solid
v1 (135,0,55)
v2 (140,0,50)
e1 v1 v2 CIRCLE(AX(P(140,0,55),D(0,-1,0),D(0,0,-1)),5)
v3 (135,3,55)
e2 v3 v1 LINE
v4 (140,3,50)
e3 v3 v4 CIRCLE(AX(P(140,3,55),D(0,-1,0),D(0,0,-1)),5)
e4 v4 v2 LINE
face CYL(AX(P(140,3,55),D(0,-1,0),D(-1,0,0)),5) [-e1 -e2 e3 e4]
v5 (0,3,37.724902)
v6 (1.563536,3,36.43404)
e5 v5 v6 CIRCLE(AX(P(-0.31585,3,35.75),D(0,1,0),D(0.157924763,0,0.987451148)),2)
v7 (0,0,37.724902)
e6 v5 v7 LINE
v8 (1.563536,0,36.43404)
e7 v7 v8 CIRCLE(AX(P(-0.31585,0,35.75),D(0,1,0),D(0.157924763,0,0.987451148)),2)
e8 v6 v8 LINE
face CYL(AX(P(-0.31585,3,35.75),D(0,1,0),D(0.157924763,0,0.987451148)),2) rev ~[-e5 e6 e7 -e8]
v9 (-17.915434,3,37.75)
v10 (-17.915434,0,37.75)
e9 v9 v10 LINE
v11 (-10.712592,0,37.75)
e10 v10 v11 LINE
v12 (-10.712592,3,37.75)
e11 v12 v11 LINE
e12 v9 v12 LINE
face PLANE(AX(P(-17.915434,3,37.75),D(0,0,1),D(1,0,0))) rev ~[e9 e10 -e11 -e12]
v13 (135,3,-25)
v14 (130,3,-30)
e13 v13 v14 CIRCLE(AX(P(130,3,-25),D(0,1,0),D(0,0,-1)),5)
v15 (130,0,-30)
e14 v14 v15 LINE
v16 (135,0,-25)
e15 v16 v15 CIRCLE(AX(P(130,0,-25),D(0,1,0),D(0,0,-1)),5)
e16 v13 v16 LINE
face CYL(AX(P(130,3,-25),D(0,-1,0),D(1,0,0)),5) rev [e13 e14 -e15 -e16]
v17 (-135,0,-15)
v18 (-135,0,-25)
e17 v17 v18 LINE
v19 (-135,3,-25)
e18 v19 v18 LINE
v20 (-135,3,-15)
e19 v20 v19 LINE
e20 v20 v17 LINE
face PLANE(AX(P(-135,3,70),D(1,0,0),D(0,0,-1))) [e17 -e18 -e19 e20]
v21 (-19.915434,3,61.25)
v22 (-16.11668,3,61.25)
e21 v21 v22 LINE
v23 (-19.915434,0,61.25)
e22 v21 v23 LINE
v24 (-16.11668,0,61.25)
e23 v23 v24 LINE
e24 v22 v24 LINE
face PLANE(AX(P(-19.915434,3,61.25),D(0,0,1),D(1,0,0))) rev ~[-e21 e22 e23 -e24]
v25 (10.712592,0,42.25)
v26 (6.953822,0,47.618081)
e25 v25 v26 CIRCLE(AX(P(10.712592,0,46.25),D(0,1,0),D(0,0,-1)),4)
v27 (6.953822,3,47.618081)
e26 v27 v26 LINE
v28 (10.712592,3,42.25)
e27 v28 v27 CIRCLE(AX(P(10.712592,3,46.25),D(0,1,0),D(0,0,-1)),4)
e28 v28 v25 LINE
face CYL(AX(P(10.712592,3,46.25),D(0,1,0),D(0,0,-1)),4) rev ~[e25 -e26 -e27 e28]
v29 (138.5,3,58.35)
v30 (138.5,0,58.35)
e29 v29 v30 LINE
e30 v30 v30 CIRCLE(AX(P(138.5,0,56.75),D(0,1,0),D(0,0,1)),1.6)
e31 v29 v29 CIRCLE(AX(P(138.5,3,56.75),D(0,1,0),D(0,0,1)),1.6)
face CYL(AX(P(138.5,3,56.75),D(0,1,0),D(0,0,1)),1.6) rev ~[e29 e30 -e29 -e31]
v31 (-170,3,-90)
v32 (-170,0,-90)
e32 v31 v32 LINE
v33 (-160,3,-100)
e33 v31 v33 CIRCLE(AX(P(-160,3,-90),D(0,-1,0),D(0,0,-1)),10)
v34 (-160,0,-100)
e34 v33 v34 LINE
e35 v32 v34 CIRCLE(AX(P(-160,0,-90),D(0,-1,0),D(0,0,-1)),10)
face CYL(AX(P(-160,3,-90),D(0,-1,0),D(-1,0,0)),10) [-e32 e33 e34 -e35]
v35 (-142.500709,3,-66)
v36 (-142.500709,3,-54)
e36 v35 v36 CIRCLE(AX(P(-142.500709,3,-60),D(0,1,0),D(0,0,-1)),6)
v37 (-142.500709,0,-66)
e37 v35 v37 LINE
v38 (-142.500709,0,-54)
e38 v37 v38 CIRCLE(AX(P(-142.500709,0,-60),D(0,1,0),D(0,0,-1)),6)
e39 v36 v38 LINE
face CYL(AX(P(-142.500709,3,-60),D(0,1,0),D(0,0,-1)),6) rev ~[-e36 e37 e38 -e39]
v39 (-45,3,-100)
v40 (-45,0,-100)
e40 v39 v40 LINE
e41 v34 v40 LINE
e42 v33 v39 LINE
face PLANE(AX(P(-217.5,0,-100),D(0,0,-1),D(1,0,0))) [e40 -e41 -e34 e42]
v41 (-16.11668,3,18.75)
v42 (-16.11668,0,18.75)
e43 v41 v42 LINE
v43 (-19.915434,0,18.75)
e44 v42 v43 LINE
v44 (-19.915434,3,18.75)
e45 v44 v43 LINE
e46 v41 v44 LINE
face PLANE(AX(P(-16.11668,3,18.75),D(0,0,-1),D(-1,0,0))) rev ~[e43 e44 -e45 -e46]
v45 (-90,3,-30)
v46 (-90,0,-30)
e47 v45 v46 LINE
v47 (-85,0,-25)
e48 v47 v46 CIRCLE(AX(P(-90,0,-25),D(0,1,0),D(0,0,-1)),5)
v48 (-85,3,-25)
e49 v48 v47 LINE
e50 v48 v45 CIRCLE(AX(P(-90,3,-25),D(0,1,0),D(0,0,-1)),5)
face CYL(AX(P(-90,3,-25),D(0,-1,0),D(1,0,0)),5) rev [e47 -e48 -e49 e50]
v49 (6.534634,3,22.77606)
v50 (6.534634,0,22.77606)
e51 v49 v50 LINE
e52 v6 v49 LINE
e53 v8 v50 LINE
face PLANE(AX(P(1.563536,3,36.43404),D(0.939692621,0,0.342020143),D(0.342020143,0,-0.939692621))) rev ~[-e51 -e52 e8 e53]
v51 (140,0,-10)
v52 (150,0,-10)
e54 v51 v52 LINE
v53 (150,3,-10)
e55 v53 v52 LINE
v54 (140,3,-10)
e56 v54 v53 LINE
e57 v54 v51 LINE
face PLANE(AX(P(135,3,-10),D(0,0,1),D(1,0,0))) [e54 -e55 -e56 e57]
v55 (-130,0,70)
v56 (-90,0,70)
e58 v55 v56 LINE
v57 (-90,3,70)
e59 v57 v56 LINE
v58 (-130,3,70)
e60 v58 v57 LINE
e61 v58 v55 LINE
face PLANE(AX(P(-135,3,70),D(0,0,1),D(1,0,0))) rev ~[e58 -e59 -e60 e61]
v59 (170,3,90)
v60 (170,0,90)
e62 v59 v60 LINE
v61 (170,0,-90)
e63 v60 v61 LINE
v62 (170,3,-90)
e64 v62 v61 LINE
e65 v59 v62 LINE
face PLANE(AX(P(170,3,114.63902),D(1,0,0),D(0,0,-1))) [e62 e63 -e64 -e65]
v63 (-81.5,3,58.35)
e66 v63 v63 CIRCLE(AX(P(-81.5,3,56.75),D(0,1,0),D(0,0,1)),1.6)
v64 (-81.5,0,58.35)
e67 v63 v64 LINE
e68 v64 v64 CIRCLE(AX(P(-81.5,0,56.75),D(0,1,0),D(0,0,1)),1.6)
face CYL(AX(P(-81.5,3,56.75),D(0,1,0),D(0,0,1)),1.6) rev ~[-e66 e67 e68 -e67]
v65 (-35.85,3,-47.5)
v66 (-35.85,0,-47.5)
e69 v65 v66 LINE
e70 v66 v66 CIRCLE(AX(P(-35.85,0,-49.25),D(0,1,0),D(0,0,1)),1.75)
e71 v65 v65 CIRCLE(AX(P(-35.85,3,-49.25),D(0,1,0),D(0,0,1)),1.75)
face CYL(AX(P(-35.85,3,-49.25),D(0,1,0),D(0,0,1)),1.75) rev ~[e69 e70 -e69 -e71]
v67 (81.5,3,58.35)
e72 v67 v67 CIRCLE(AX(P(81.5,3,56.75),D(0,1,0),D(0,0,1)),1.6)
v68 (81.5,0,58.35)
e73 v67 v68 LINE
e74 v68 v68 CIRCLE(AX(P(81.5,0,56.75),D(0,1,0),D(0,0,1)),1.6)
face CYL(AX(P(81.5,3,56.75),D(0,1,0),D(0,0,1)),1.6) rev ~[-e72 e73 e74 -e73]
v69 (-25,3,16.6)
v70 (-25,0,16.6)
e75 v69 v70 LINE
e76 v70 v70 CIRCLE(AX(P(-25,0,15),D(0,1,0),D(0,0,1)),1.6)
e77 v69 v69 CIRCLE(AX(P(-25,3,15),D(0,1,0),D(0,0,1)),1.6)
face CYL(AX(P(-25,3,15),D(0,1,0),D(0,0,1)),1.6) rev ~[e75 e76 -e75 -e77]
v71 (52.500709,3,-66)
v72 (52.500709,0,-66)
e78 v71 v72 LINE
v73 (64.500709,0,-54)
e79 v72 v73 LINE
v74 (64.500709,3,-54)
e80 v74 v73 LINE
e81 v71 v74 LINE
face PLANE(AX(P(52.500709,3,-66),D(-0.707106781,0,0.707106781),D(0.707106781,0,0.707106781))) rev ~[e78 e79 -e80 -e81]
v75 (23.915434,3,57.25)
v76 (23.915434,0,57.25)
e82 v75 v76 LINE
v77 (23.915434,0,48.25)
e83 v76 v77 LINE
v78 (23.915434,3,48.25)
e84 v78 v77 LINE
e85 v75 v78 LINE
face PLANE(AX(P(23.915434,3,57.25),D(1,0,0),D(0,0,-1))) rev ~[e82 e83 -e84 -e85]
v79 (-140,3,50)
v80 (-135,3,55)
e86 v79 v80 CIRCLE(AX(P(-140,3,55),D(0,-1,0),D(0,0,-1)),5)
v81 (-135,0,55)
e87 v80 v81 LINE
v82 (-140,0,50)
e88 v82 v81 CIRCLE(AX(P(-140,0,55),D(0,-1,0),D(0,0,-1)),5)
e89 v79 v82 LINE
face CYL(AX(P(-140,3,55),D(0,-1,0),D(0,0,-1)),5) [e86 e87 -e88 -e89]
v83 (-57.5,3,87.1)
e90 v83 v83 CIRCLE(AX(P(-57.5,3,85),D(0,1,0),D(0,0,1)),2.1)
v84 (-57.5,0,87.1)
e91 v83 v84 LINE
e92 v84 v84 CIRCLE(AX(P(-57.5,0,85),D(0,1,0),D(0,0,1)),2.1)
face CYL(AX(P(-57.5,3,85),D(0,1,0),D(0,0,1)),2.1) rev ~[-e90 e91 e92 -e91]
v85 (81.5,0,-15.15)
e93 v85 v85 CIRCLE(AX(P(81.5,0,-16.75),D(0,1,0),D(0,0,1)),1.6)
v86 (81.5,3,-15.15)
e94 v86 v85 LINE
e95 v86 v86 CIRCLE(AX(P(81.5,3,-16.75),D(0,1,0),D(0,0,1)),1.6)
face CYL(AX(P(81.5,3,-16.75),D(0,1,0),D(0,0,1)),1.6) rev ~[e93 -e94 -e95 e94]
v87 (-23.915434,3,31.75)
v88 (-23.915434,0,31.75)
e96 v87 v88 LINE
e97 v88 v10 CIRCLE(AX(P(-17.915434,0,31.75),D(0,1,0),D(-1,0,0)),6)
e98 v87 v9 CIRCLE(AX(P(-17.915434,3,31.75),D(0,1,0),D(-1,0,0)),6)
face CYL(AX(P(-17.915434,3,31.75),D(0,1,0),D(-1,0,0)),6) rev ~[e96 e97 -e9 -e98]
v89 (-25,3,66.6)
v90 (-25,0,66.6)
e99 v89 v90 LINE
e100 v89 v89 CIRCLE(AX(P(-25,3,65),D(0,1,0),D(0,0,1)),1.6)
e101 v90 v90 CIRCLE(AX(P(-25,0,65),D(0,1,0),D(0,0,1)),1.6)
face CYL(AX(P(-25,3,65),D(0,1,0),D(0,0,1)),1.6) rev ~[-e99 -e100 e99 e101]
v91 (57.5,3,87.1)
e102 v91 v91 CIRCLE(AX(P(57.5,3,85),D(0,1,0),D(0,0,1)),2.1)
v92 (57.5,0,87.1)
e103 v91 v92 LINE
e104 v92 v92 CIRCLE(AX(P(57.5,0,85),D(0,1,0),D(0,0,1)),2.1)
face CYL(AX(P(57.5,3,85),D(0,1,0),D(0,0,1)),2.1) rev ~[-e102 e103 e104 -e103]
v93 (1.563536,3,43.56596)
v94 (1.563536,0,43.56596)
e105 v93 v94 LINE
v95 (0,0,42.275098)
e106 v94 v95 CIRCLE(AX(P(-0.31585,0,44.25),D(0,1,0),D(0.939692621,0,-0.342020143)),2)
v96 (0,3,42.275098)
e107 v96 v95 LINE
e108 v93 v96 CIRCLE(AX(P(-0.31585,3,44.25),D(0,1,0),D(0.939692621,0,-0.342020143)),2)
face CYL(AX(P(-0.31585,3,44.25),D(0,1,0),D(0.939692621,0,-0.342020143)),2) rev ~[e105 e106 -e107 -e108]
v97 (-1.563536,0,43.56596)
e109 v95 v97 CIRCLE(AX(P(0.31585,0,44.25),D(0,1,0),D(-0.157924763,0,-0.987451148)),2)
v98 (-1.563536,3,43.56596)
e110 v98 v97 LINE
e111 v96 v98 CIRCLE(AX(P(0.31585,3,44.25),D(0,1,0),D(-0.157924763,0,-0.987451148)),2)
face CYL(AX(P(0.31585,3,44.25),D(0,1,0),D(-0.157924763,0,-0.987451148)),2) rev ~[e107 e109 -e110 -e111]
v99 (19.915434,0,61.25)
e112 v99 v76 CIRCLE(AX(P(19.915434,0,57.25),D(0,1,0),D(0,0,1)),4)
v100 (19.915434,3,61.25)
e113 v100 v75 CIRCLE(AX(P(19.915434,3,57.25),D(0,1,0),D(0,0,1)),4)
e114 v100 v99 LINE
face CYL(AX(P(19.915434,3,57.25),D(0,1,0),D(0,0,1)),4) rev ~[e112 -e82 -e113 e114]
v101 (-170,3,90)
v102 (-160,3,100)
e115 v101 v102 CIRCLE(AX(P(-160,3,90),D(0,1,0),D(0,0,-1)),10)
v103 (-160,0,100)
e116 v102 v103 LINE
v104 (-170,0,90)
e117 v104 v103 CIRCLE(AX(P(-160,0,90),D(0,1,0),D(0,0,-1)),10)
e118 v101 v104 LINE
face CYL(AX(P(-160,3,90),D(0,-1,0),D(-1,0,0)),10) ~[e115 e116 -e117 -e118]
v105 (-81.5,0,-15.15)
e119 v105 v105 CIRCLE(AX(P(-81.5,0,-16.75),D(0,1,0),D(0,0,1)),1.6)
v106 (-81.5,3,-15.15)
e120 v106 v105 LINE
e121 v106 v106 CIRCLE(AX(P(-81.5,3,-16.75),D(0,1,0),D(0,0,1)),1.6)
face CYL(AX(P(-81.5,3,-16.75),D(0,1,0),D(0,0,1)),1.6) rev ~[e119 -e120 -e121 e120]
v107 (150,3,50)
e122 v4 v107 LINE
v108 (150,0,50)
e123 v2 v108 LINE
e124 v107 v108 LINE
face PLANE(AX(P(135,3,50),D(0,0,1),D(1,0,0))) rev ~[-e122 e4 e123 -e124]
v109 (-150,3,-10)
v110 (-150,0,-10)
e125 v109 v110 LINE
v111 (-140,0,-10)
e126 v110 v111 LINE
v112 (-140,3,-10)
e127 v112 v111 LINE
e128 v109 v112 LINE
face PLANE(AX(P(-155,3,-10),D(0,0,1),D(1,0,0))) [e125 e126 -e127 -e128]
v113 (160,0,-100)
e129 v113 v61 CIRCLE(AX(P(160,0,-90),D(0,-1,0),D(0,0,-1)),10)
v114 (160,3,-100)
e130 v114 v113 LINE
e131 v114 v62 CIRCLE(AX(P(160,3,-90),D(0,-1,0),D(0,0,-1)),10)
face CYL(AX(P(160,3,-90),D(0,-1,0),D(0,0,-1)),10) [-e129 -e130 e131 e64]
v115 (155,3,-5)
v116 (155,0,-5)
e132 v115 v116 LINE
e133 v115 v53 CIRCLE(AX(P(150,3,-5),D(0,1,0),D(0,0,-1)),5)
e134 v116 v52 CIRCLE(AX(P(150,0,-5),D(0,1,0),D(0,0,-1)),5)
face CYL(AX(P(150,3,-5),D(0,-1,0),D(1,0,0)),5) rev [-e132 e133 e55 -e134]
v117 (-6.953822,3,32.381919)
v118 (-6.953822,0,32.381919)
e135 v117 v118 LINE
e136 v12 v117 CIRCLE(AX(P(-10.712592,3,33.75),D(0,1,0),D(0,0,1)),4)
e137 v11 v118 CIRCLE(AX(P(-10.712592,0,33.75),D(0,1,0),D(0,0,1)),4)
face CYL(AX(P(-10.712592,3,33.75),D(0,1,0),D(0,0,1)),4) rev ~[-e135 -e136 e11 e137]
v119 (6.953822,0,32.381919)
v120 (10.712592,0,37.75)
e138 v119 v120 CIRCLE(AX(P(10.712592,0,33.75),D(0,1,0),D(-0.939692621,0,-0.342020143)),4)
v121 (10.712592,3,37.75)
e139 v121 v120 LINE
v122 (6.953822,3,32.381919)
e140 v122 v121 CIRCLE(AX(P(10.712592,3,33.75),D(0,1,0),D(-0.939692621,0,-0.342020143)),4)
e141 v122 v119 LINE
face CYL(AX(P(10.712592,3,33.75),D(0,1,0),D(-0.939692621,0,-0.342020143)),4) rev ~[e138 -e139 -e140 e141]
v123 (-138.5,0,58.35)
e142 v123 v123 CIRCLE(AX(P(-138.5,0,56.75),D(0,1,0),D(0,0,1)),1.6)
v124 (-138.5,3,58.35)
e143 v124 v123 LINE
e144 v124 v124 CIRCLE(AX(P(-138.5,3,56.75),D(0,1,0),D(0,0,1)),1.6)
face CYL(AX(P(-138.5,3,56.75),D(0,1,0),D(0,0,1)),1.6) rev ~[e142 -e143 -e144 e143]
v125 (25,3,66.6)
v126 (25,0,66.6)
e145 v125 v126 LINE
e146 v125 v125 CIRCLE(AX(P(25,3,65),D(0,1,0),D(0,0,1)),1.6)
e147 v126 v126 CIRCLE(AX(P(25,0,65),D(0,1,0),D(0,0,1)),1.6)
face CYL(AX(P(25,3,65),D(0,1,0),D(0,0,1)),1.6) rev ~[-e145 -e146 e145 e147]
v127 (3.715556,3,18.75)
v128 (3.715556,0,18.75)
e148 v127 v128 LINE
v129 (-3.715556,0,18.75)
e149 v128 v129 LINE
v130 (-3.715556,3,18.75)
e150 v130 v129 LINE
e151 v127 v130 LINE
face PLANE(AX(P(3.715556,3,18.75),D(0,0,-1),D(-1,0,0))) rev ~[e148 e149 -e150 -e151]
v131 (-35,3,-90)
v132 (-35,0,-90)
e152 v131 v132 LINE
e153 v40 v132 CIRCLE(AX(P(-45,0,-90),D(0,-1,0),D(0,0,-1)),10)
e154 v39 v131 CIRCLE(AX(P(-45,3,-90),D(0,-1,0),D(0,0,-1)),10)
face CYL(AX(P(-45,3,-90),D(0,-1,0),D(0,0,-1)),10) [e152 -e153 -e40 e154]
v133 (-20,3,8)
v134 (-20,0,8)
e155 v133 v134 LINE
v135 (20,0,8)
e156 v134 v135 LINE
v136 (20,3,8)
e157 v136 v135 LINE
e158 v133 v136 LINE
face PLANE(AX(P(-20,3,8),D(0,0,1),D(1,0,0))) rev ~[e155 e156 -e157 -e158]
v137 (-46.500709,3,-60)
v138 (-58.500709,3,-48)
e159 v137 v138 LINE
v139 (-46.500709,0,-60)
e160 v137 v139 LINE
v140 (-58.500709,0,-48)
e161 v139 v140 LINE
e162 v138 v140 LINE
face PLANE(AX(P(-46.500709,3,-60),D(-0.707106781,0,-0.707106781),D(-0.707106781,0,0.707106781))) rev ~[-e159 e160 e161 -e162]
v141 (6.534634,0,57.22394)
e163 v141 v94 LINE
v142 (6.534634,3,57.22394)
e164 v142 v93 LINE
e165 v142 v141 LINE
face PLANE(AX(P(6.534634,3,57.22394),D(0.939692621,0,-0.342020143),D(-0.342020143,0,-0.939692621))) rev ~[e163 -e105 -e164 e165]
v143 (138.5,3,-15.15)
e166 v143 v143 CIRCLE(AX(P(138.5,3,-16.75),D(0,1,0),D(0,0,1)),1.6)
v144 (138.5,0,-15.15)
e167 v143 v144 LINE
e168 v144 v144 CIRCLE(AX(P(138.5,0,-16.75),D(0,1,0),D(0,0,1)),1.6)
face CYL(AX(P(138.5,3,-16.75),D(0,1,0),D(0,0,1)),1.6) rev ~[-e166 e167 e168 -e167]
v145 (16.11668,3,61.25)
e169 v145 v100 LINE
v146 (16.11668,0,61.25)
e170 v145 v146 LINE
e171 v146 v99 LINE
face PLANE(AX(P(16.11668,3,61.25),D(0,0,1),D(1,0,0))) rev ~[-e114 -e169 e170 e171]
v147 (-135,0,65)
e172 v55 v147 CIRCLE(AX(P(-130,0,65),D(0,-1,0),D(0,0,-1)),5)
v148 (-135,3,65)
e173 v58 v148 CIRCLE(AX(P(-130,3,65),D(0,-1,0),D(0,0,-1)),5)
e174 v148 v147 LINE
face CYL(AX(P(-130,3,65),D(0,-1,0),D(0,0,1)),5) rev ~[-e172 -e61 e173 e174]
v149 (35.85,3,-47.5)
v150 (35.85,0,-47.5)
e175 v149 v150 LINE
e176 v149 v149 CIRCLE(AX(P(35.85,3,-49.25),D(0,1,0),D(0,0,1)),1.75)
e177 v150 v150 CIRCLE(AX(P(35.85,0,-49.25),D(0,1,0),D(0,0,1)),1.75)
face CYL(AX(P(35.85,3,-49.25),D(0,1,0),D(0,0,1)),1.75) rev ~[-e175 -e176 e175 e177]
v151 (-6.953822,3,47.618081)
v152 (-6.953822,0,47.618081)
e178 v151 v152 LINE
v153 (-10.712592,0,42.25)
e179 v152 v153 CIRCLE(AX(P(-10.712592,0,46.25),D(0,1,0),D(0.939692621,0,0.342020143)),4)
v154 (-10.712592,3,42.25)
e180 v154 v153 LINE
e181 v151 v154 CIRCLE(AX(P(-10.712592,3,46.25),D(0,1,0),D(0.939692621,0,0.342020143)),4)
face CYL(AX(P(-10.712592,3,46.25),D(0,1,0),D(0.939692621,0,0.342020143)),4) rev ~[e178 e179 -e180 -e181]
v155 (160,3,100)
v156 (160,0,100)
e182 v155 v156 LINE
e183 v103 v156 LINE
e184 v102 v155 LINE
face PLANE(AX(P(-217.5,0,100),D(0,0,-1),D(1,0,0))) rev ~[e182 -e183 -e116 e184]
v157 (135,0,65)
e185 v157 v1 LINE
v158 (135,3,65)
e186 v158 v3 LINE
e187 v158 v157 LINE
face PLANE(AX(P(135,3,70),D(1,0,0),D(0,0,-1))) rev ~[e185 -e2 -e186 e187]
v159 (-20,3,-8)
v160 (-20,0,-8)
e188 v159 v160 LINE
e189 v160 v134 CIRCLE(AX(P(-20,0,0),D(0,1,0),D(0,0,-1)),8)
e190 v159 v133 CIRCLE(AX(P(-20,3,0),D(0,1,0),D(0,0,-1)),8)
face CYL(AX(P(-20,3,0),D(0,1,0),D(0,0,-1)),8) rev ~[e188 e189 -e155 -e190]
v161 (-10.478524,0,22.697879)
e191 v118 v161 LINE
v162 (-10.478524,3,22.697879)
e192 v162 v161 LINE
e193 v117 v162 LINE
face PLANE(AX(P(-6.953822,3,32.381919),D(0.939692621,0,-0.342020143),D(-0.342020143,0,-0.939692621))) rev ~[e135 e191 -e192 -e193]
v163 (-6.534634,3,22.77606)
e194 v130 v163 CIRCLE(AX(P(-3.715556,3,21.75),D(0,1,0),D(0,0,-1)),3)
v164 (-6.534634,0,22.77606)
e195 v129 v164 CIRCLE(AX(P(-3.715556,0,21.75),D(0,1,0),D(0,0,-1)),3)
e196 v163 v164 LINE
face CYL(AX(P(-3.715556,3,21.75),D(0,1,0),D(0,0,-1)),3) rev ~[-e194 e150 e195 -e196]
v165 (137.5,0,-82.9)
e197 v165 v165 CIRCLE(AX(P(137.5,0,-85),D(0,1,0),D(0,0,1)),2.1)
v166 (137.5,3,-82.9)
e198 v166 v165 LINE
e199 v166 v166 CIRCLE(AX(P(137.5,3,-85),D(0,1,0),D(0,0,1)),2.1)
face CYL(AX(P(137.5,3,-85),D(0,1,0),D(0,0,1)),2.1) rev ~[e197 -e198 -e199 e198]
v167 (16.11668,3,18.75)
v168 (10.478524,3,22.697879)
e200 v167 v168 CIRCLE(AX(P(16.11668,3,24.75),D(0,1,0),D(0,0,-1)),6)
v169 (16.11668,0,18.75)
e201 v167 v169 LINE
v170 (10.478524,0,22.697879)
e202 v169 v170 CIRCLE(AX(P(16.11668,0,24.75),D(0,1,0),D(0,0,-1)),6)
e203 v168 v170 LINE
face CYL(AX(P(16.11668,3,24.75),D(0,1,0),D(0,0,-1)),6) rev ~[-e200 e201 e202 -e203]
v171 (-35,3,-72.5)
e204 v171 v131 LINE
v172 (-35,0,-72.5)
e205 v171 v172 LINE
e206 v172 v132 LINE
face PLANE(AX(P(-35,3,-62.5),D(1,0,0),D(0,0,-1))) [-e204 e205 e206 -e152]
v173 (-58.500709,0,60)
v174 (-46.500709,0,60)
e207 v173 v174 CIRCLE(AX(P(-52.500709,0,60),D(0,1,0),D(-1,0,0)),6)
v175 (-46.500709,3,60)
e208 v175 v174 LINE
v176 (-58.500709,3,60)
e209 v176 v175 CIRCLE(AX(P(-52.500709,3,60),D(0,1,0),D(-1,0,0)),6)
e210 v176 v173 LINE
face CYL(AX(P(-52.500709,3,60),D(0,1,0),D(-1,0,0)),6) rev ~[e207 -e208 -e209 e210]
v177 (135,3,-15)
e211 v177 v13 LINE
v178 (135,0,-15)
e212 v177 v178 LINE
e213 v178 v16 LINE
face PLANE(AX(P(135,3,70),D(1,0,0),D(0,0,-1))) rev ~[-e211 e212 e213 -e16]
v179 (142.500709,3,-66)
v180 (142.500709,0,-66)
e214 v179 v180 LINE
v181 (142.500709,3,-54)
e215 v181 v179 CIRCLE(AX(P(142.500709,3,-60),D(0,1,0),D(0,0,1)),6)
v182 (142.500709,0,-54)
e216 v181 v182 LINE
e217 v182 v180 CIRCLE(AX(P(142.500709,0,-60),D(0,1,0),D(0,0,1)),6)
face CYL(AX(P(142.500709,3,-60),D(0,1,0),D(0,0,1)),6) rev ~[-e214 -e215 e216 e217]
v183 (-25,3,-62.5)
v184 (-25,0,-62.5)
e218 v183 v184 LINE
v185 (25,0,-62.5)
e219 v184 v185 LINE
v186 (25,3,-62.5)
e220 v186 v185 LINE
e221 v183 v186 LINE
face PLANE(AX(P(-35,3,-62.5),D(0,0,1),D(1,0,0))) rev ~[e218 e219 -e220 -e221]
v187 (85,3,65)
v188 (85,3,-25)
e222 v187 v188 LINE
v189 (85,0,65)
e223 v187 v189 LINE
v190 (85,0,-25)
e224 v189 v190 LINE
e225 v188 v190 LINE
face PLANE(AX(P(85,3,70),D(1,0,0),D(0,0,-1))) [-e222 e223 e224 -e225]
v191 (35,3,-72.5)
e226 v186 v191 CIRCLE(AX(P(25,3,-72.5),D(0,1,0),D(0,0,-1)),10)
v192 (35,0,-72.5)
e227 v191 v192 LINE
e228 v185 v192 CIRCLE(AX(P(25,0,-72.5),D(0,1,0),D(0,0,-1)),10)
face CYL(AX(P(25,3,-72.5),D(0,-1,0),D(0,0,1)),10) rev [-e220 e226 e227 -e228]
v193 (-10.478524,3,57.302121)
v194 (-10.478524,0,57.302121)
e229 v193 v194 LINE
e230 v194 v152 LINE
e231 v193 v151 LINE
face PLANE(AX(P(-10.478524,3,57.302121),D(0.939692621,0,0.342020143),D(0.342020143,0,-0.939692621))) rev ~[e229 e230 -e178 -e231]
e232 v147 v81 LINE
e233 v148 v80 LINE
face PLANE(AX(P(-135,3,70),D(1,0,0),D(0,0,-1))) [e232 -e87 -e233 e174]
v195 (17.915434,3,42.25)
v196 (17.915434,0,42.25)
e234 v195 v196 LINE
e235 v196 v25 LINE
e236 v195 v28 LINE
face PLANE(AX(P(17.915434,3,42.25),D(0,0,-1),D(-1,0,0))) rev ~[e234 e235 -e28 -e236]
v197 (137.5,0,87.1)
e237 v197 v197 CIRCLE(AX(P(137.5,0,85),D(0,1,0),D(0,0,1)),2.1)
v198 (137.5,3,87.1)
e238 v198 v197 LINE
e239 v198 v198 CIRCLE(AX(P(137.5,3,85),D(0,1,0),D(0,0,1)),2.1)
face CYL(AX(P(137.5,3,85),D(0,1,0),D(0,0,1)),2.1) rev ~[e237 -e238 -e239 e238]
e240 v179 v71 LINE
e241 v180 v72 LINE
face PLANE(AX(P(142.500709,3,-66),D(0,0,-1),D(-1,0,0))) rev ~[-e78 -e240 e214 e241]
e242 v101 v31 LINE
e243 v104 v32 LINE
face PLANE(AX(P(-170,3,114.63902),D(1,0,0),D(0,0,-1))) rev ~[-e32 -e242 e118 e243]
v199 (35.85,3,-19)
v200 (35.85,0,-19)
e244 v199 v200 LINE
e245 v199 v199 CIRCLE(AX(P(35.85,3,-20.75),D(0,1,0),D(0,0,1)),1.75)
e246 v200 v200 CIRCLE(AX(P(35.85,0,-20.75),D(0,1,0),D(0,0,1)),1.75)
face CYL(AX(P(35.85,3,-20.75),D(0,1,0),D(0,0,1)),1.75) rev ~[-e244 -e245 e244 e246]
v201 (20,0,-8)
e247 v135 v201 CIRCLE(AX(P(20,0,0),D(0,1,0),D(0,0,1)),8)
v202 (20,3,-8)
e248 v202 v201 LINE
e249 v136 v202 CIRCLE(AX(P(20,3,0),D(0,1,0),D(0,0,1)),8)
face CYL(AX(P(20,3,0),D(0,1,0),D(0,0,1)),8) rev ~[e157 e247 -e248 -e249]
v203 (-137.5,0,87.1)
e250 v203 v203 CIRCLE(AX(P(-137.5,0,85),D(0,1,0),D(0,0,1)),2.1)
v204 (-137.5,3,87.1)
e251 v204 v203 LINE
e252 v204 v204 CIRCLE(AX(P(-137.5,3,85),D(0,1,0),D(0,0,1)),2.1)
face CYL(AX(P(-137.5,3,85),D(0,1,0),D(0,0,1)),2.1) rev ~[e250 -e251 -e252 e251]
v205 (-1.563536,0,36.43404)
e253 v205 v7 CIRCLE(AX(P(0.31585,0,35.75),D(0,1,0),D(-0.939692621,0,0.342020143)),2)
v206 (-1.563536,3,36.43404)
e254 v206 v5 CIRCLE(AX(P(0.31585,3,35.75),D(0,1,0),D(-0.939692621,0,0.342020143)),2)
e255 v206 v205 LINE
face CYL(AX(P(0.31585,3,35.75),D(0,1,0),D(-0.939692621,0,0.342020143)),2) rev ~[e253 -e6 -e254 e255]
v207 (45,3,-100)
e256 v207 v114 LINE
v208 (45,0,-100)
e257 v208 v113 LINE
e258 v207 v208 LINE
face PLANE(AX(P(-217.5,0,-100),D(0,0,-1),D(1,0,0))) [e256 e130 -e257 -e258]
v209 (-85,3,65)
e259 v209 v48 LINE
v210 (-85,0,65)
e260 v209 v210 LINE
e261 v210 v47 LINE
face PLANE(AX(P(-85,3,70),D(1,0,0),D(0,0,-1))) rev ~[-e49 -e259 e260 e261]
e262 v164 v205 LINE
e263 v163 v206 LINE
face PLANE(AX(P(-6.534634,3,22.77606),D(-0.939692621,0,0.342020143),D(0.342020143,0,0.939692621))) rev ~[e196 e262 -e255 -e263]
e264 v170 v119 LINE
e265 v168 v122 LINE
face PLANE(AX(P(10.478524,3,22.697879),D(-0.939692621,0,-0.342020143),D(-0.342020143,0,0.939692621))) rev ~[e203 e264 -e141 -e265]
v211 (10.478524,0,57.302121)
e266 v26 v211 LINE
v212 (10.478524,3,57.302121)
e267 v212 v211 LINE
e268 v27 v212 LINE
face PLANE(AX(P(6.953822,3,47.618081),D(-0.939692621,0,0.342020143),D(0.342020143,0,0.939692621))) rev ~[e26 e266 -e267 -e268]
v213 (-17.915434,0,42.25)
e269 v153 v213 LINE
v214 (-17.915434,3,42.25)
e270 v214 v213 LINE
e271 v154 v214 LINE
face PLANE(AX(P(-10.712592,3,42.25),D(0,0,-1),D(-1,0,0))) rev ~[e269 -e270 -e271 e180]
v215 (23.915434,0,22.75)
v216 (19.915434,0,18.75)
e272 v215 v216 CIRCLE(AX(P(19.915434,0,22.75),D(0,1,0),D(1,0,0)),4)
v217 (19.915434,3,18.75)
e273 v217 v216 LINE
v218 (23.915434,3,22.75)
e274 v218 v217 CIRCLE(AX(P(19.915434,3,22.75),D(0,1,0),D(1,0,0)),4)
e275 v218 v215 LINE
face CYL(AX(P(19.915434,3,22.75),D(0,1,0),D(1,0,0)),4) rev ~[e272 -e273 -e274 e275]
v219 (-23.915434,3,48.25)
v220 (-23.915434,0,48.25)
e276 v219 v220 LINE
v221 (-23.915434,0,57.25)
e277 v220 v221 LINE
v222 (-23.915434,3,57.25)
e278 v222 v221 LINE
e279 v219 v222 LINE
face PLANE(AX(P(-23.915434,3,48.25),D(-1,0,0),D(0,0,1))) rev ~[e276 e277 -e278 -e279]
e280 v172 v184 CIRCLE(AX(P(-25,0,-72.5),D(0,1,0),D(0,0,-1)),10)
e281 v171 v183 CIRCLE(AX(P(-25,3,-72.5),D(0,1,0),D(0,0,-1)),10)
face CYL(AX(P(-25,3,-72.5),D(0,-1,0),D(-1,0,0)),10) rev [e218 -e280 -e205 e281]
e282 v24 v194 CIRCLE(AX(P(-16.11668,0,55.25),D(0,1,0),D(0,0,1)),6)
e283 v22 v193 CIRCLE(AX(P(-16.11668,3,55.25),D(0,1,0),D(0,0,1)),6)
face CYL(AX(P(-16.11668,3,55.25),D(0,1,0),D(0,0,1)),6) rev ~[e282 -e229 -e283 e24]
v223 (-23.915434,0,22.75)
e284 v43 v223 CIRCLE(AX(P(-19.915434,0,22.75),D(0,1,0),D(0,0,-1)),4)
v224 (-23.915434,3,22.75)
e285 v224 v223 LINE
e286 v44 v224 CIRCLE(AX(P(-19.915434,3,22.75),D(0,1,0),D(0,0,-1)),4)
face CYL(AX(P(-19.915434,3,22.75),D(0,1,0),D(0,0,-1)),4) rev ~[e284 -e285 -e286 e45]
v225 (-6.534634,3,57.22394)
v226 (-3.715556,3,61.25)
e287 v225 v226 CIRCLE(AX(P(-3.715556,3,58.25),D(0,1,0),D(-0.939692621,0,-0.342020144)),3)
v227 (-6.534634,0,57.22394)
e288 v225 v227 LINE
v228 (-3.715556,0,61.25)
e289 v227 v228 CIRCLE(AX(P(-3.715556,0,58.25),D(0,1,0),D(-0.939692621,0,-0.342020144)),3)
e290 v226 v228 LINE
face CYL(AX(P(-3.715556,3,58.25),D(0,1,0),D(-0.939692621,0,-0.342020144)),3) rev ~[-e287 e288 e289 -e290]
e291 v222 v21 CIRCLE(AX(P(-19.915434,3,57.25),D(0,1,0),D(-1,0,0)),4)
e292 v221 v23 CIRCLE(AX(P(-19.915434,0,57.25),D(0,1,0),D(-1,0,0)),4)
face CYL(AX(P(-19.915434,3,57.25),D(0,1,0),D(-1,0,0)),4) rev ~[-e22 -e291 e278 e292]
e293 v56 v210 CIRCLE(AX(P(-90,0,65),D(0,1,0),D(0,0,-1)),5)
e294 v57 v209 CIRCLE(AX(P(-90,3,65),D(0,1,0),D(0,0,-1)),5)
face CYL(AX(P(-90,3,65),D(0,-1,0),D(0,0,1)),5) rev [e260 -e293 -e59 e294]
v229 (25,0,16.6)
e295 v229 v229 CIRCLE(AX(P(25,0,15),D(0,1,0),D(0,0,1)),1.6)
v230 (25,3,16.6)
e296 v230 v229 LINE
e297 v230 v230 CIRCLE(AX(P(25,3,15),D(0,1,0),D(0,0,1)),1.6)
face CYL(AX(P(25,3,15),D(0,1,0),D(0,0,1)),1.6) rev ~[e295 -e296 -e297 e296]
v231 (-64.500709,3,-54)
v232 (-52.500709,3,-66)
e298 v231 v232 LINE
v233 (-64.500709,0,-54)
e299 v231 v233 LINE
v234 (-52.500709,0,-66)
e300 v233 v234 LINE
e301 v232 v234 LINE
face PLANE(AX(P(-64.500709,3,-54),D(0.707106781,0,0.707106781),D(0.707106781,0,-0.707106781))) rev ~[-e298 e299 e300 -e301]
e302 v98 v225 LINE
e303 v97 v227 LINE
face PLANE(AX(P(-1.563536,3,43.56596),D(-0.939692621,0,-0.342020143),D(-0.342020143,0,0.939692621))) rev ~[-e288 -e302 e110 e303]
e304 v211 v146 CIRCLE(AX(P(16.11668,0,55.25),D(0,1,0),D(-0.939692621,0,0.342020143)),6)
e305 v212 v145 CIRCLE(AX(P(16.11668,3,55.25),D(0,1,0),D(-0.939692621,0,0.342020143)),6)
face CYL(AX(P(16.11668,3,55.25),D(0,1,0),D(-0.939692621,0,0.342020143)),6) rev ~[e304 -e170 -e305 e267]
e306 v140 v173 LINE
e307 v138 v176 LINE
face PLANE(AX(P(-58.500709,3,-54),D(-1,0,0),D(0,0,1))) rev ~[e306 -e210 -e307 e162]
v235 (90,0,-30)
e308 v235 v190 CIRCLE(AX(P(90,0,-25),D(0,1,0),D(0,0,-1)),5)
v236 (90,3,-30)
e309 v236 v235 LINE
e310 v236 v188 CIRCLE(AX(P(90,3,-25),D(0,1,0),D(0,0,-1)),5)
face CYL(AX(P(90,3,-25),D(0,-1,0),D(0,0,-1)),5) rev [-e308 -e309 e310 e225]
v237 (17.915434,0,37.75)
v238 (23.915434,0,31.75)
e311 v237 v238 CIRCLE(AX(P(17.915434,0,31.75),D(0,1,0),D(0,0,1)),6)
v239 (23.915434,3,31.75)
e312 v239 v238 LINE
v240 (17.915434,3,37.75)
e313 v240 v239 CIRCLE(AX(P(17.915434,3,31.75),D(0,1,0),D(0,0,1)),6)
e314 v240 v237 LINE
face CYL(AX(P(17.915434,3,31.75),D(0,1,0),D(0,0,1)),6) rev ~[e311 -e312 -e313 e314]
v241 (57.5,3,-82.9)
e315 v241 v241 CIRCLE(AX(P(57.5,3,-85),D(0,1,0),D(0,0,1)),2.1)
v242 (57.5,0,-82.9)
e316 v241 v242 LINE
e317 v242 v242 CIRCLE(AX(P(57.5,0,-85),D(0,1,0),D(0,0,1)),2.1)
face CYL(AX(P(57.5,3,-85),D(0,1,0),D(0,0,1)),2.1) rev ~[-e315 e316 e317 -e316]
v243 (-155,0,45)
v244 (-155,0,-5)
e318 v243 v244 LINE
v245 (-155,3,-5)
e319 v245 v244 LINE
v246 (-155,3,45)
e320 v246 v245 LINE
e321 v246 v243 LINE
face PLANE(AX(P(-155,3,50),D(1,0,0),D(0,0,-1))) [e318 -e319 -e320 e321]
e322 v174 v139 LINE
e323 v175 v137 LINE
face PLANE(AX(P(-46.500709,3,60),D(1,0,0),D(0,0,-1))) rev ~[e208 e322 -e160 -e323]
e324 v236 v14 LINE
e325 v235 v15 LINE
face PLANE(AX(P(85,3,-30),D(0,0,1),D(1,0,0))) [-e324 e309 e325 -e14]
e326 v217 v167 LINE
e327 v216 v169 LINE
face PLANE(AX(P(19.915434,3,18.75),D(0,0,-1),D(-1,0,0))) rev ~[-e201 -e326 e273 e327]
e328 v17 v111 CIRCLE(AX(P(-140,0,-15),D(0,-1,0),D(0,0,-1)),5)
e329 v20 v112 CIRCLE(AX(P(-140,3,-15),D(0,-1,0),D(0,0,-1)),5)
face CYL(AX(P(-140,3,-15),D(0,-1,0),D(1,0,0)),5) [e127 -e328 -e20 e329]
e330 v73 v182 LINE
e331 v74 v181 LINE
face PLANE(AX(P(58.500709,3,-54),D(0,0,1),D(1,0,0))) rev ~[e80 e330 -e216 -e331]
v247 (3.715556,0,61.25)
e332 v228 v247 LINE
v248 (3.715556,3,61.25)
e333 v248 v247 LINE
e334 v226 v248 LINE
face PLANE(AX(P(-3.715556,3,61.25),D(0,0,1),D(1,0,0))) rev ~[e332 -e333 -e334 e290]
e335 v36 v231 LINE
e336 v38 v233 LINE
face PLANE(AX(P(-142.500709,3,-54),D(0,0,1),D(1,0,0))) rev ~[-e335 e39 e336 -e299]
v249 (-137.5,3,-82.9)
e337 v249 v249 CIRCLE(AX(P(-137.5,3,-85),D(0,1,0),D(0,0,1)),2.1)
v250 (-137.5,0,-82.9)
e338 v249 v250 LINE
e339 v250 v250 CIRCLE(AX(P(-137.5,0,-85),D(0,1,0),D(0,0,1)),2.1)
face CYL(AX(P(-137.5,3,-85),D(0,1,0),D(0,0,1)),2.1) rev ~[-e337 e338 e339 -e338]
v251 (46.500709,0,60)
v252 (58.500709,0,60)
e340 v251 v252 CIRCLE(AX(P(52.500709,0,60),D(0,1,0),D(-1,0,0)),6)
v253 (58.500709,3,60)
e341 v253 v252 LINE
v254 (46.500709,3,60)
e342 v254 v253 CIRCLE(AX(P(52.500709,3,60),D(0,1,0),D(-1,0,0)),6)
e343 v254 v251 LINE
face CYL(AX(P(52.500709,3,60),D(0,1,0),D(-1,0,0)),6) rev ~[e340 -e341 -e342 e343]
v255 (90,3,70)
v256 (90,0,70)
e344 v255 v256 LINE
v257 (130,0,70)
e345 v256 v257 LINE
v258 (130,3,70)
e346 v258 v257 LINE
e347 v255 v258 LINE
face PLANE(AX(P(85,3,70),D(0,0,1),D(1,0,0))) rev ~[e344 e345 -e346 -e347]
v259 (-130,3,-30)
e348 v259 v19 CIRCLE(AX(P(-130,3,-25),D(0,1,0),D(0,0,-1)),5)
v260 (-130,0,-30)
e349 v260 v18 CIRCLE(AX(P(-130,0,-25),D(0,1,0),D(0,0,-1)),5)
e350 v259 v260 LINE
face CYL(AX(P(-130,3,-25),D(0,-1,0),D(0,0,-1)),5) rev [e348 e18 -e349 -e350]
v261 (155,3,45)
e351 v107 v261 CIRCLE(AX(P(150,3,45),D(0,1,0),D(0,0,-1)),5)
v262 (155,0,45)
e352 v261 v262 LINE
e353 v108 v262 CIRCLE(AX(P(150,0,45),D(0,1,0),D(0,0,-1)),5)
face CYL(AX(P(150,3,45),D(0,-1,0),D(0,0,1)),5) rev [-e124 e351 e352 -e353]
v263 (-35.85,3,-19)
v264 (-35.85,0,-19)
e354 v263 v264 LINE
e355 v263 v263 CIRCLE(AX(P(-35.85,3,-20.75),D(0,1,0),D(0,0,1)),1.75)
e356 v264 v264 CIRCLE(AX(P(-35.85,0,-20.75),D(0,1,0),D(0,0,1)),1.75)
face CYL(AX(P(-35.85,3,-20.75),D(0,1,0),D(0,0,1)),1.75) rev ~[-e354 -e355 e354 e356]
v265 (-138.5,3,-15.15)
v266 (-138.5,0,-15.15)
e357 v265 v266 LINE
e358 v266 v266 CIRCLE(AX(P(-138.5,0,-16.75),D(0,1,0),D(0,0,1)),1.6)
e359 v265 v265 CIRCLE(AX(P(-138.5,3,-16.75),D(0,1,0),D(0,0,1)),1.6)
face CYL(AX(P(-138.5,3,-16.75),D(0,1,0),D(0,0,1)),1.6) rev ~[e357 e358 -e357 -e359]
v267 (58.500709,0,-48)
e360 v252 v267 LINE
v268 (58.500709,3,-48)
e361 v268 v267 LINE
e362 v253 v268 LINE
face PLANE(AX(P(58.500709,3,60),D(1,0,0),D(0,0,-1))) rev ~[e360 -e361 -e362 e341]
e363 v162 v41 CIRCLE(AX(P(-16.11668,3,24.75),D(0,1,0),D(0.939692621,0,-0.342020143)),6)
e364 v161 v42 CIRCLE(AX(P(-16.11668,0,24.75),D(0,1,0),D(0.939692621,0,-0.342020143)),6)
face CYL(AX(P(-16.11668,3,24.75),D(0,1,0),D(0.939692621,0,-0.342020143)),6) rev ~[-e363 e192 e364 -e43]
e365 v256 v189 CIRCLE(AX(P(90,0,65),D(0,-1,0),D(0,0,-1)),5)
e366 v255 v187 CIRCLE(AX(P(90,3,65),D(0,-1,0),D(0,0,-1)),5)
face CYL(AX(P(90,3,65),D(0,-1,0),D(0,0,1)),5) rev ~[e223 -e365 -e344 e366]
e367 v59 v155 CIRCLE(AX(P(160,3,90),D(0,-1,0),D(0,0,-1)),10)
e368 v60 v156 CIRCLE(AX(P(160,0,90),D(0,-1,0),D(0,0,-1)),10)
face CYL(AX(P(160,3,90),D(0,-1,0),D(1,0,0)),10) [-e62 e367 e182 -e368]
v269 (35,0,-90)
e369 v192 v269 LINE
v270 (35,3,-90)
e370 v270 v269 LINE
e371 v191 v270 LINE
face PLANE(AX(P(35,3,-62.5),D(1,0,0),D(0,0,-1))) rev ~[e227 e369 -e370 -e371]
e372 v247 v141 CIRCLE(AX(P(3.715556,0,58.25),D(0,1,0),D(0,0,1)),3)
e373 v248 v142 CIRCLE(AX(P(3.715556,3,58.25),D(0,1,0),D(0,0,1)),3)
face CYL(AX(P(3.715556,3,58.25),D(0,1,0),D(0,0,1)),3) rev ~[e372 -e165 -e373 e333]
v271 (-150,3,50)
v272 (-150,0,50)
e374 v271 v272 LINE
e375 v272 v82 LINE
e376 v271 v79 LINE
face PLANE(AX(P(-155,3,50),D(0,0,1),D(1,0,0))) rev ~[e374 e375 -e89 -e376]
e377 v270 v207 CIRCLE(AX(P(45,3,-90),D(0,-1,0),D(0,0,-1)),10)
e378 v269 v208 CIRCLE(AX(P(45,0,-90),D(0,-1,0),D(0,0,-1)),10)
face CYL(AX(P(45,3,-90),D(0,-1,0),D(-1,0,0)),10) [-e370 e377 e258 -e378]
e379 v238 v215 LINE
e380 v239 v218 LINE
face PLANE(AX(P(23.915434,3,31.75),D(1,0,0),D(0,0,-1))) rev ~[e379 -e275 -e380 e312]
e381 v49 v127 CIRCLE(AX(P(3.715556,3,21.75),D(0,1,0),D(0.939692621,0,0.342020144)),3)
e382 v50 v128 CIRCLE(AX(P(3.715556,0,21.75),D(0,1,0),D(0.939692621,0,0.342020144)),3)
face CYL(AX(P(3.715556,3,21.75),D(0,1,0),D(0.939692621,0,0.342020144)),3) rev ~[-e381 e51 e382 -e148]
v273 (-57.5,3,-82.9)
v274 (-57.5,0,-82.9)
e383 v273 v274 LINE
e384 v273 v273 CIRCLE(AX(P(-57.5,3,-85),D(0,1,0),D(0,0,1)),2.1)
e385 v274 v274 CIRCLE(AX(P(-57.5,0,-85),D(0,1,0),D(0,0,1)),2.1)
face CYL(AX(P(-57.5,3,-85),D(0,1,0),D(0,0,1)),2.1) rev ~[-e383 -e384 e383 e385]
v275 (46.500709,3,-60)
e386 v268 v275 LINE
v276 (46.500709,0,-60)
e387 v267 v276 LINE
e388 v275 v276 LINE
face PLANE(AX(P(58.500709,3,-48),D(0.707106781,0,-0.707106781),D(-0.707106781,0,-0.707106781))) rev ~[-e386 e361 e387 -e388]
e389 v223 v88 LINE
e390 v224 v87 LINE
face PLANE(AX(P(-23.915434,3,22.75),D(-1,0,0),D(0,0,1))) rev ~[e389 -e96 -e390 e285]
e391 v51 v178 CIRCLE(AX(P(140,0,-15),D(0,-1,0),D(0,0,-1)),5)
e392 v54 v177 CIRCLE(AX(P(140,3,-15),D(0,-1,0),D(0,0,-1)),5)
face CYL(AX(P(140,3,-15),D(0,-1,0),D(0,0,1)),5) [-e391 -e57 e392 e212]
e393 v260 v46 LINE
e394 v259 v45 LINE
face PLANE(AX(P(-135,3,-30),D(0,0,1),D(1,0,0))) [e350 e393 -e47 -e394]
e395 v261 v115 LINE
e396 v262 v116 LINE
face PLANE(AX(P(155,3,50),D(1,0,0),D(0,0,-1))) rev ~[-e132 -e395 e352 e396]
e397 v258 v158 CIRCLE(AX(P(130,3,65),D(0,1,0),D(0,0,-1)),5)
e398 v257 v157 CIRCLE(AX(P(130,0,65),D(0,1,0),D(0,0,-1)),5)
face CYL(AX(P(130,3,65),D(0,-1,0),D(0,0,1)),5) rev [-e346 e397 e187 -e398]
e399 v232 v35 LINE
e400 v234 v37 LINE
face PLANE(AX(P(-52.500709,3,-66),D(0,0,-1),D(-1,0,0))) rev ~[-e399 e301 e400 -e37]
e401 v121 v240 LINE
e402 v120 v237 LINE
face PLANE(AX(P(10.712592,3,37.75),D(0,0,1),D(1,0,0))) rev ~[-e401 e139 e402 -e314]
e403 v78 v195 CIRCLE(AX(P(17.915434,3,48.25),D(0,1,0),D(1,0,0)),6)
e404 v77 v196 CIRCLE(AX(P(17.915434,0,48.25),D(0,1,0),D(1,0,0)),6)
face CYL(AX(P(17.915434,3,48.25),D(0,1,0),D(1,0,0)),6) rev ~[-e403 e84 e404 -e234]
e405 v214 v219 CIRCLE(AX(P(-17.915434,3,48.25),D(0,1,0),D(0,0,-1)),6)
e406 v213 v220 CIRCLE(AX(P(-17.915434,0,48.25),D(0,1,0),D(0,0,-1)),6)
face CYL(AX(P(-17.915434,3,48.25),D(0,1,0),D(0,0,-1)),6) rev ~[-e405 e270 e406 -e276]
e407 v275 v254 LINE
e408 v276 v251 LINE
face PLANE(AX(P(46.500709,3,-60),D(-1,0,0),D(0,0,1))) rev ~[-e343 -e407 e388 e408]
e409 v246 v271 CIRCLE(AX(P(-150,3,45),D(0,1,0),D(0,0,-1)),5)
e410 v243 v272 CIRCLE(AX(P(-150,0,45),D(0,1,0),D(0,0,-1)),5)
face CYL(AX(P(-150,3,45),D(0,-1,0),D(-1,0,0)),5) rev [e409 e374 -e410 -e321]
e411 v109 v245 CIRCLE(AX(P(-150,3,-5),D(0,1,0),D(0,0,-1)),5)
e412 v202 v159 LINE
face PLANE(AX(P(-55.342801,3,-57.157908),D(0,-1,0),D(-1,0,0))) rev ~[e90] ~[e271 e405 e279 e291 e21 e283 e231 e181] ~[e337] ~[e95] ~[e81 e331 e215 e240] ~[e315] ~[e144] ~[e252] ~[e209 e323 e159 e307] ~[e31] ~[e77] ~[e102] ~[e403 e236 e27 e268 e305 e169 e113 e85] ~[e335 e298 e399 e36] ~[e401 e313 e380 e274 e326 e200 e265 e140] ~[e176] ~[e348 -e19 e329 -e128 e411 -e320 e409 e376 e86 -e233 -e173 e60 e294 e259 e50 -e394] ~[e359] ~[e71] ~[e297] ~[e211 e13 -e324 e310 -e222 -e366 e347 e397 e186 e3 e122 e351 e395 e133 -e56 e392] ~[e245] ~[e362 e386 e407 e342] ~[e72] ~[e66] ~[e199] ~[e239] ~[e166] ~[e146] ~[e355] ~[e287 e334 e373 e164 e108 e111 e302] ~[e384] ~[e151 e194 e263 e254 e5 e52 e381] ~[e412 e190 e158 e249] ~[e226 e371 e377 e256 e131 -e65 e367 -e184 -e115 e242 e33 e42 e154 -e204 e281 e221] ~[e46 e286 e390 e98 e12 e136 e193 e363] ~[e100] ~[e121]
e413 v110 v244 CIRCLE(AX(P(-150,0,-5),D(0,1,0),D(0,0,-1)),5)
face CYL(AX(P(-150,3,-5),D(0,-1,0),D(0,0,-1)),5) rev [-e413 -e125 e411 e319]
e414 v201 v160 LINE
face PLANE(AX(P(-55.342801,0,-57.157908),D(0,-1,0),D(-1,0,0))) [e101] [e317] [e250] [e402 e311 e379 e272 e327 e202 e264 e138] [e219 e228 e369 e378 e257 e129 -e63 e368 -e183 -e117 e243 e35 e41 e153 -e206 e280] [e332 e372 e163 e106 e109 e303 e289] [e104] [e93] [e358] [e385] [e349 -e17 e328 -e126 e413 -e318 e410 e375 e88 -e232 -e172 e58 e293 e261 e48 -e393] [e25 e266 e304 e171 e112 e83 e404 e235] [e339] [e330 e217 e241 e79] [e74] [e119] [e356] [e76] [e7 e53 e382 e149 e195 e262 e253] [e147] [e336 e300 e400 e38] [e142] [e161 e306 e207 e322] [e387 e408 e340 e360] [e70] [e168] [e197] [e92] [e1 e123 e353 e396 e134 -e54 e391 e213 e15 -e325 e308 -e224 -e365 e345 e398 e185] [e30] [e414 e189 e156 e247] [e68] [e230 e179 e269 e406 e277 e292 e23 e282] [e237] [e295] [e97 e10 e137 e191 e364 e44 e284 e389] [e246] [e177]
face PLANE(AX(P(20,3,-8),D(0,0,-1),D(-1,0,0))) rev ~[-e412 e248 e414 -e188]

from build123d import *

# Parameters (mm, degrees)
SKETCH_1_W           = 435
SKETCH_1_H           = 200
EXTRUDE_1_DEPTH      = 3
SKETCH_2_R           = 1.6
CUT_EXTRUDE_1_DEPTH  = 157
SKETCH_3_W           = 50
SKETCH_3_H           = 100
CUT_EXTRUDE_2_DEPTH  = 157
SKETCH_5_W           = 20
SKETCH_5_H           = 60
CUT_EXTRUDE_3_DEPTH  = 157
FILLET_1_R           = 5
SKETCH_9_R           = 2.1
CUT_EXTRUDE_6_DEPTH  = 10
SKETCH_10_R          = 1.6
CUT_EXTRUDE_7_DEPTH  = 10
SKETCH_8_R           = 1.75
CUT_EXTRUDE_8_DEPTH  = 10
SKETCH_13_W          = 53.114182181
SKETCH_13_H          = 240.503799042
CUT_EXTRUDE_11_DEPTH = 10
SKETCH_14_W          = 70
SKETCH_14_H          = 75
CUT_EXTRUDE_12_DEPTH = 64.5
FILLET_4_R           = 10
CUT_EXTRUDE_13_DEPTH = 10
EXTRUDE_3_DEPTH      = 3


with BuildPart() as part:
    # 草图1 → 凸台-拉伸1 (new body)
    with BuildSketch(Plane(origin=(0, 0, 0), x_dir=(1, 0, 0), z_dir=(0, 1, 0))):
        Rectangle(SKETCH_1_W, SKETCH_1_H)
    extrude(amount=EXTRUDE_1_DEPTH)

    # 草图2 → 切除-拉伸1 (cut)
    with BuildSketch(Plane(origin=(0, 3, 0), x_dir=(1, 0, 0), z_dir=(0, 1, 0))):
        with Locations(Location((138.5, 16.75, 0), (0, 0, 270))):
            Circle(SKETCH_2_R)
        with Locations(Location((138.5, -56.75, 0), (0, 0, 270))):
            Circle(SKETCH_2_R)
        with Locations(Location((81.5, -56.75, 0), (0, 0, 270))):
            Circle(SKETCH_2_R)
        with Locations(Location((81.5, 16.75, 0), (0, 0, 270))):
            Circle(SKETCH_2_R)
        with Locations(Location((-81.5, 16.75, 0), (0, 0, 270))):
            Circle(SKETCH_2_R)
        with Locations(Location((-81.5, -56.75, 0), (0, 0, 270))):
            Circle(SKETCH_2_R)
        with Locations(Location((-138.5, -56.75, 0), (0, 0, 270))):
            Circle(SKETCH_2_R)
        with Locations(Location((-138.5, 16.75, 0), (0, 0, 270))):
            Circle(SKETCH_2_R)
    extrude(amount=-CUT_EXTRUDE_1_DEPTH, mode=Mode.SUBTRACT)

    # 草图3 → 切除-拉伸2 (cut)
    with BuildSketch(Plane(origin=(0, 3, 0), x_dir=(1, 0, 0), z_dir=(0, 1, 0))):
        with Locations((-110, -20)):
            Rectangle(SKETCH_3_W, SKETCH_3_H)
        with Locations((110, -20)):
            Rectangle(SKETCH_3_W, SKETCH_3_H)
    extrude(amount=-CUT_EXTRUDE_2_DEPTH, mode=Mode.SUBTRACT)

    # 草图5 → 切除-拉伸3 (cut)
    with BuildSketch(Plane(origin=(0, 3, 0), x_dir=(1, 0, 0), z_dir=(0, 1, 0))):
        with Locations((-145, -20)):
            Rectangle(SKETCH_5_W, SKETCH_5_H)
        with Locations((145, -20)):
            Rectangle(SKETCH_5_W, SKETCH_5_H)
    extrude(amount=-CUT_EXTRUDE_3_DEPTH, mode=Mode.SUBTRACT)

    # 圆角1
    fillet_1_edges = [part.edges().sort_by_distance(p)[0] for p in [
        (135, 1.5, -10),
        (135, 1.5, 50),
        (155, 1.5, -10),
        (155, 1.5, 50),
        (-85, 1.5, -30),
        (-85, 1.5, 70),
        (-135, 1.5, 70),
        (-135, 1.5, -30),
        (135, 1.5, -30),
        (135, 1.5, 70),
        (85, 1.5, 70),
        (85, 1.5, -30),
        (-135, 1.5, -10),
        (-135, 1.5, 50),
        (-155, 1.5, 50),
        (-155, 1.5, -10),
    ]]
    fillet(fillet_1_edges, radius=FILLET_1_R)

    # 草图9 → 切除-拉伸6 (cut)
    with BuildSketch(Plane(origin=(0, 3, 0), x_dir=(1, 0, 0), z_dir=(0, 1, 0))):
        with Locations(Location((-137.5, -85, 0), (0, 0, 270))):
            Circle(SKETCH_9_R)
        with Locations(Location((-57.5, -85, 0), (0, 0, 270))):
            Circle(SKETCH_9_R)
        with Locations(Location((57.5, -85, 0), (0, 0, 270))):
            Circle(SKETCH_9_R)
        with Locations(Location((137.5, -85, 0), (0, 0, 270))):
            Circle(SKETCH_9_R)
        with Locations(Location((137.5, 85, 0), (0, 0, 270))):
            Circle(SKETCH_9_R)
        with Locations(Location((57.5, 85, 0), (0, 0, 270))):
            Circle(SKETCH_9_R)
        with Locations(Location((-57.5, 85, 0), (0, 0, 270))):
            Circle(SKETCH_9_R)
        with Locations(Location((-137.5, 85, 0), (0, 0, 270))):
            Circle(SKETCH_9_R)
    extrude(amount=-CUT_EXTRUDE_6_DEPTH, mode=Mode.SUBTRACT)

    # 草图10 → 切除-拉伸7 (cut)
    with BuildSketch(Plane(origin=(0, 3, 0), x_dir=(1, 0, 0), z_dir=(0, 1, 0))):
        with Locations(Location((-25, -15, 0), (0, 0, 270))):
            Circle(SKETCH_10_R)
        with Locations(Location((25, -15, 0), (0, 0, 270))):
            Circle(SKETCH_10_R)
        with Locations(Location((25, -65, 0), (0, 0, 270))):
            Circle(SKETCH_10_R)
        with Locations(Location((-25, -65, 0), (0, 0, 270))):
            Circle(SKETCH_10_R)
    extrude(amount=-CUT_EXTRUDE_7_DEPTH, mode=Mode.SUBTRACT)

    # 草图8 → 切除-拉伸8 (cut)
    with BuildSketch(Plane(origin=(0, 3, 0), x_dir=(1, 0, 0), z_dir=(0, 1, 0))):
        with Locations(Location((-35.85, 49.25, 0), (0, 0, 270))):
            Circle(SKETCH_8_R)
        with Locations(Location((35.85, 49.25, 0), (0, 0, 270))):
            Circle(SKETCH_8_R)
        with Locations(Location((-35.85, 20.75, 0), (0, 0, 270))):
            Circle(SKETCH_8_R)
        with Locations(Location((35.85, 20.75, 0), (0, 0, 270))):
            Circle(SKETCH_8_R)
    extrude(amount=-CUT_EXTRUDE_8_DEPTH, mode=Mode.SUBTRACT)

    # 草图13 → 切除-拉伸11 (cut)
    with BuildSketch(Plane(origin=(0, 3, 0), x_dir=(1, 0, 0), z_dir=(0, 1, 0))):
        with BuildLine():
            Line((-46.500708687, -60), (-46.500708687, 60))
            ThreePointArc((-46.500708687, 60), (-48.258068, 64.242640687), (-52.500708687, 66))
            Line((-52.500708687, 66), (-142.500708687, 66))
            ThreePointArc((-142.500708687, 66), (-148.500708687, 60), (-142.500708687, 54))
            Line((-142.500708687, 54), (-58.500708687, 54))
            Line((-58.500708687, 54), (-58.500708687, -60))
            ThreePointArc((-58.500708687, -60), (-52.500708687, -66), (-46.500708687, -60))
        make_face()
        with BuildLine():
            ThreePointArc((52.500708687, 66), (48.258068, 64.242640687), (46.500708687, 60))
            Line((46.500708687, 60), (46.500708687, -60))
            ThreePointArc((46.500708687, -60), (52.500708687, -66), (58.500708687, -60))
            Line((58.500708687, -60), (58.500708687, 54))
            Line((58.500708687, 54), (142.500708687, 54))
            ThreePointArc((142.500708687, 54), (148.500708687, 60), (142.500708687, 66))
            Line((142.500708687, 66), (52.500708687, 66))
        make_face()
        with BuildLine():
            Line((20, 8), (-20, 8))
            ThreePointArc((-20, 8), (-28, 0), (-20, -8))
            Line((-20, -8), (20, -8))
            ThreePointArc((20, -8), (28, 0), (20, 8))
        make_face()
        with Locations((-196.557091091, 5.612879566)):
            Rectangle(SKETCH_13_W, SKETCH_13_H)
        with Locations((196.557091091, 5.612879566)):
            Rectangle(SKETCH_13_W, SKETCH_13_H)
    extrude(amount=-CUT_EXTRUDE_11_DEPTH, mode=Mode.SUBTRACT)

    # 草图14 → 切除-拉伸12 (cut)
    with BuildSketch(Plane(origin=(0, 3, 0), x_dir=(1, 0, 0), z_dir=(0, 1, 0))):
        with Locations((0, 100)):
            Rectangle(SKETCH_14_W, SKETCH_14_H)
    extrude(amount=-CUT_EXTRUDE_12_DEPTH, mode=Mode.SUBTRACT)

    # 圆角4
    fillet_4_edges = [part.edges().sort_by_distance(p)[0] for p in [
        (170, 1.5, 100),
        (-170, 1.5, 100),
        (-170, 1.5, -100),
        (170, 1.5, -100),
        (-35, 1.5, -100),
        (35, 1.5, -100),
        (35, 1.5, -62.5),
        (-35, 1.5, -62.5),
    ]]
    fillet(fillet_4_edges, radius=FILLET_4_R)

    # 草图15 → 切除-拉伸13 (cut)
    with BuildSketch(Plane(origin=(0, 3, 0), x_dir=(1, 0, 0), z_dir=(0, 1, 0))):
        with BuildLine():
            Line((-6.953821544, -32.381919427), (-10.478523956, -22.69787914))
            ThreePointArc((-10.478523956, -22.69787914), (-12.675221062, -19.835087734), (-16.11667968, -18.75))
            Line((-16.11667968, -18.75), (-19.915434451, -18.75))
            ThreePointArc((-19.915434451, -18.75), (-22.743861576, -19.921572875), (-23.915434451, -22.75))
            Line((-23.915434451, -22.75), (-23.915434451, -31.75))
            ThreePointArc((-23.915434451, -31.75), (-22.158075138, -35.992640687), (-17.915434451, -37.75))
            Line((-17.915434451, -37.75), (-10.712592027, -37.75))
            ThreePointArc((-10.712592027, -37.75), (-7.43598385, -36.044305745), (-6.953821544, -32.381919427))
        make_face()
        with BuildLine():
            Line((3.71555598, -18.75), (-3.71555598, -18.75))
            ThreePointArc((-3.71555598, -18.75), (-6.173012113, -20.029270691), (-6.534633842, -22.77606043))
            Line((-6.534633842, -22.77606043), (-1.563535714, -36.434040287))
            ThreePointArc((-1.563535714, -36.434040287), (-0.957470976, -37.29228885), (0, -37.724902295))
            ThreePointArc((0, -37.724902295), (0.957470976, -37.29228885), (1.563535714, -36.434040287))
            Line((1.563535714, -36.434040287), (6.534633842, -22.77606043))
            ThreePointArc((6.534633842, -22.77606043), (6.173012113, -20.029270691), (3.71555598, -18.75))
        make_face()
        with BuildLine():
            Line((19.915434451, -18.75), (16.11667968, -18.75))
            ThreePointArc((16.11667968, -18.75), (12.675221062, -19.835087734), (10.478523956, -22.69787914))
            Line((10.478523956, -22.69787914), (6.953821544, -32.381919427))
            ThreePointArc((6.953821544, -32.381919427), (7.43598385, -36.044305745), (10.712592027, -37.75))
            Line((10.712592027, -37.75), (17.915434451, -37.75))
            ThreePointArc((17.915434451, -37.75), (22.158075138, -35.992640687), (23.915434451, -31.75))
            Line((23.915434451, -31.75), (23.915434451, -22.75))
            ThreePointArc((23.915434451, -22.75), (22.743861576, -19.921572875), (19.915434451, -18.75))
        make_face()
        with BuildLine():
            Line((6.953821544, -47.618080573), (10.478523956, -57.30212086))
            ThreePointArc((10.478523956, -57.30212086), (12.675221062, -60.164912266), (16.11667968, -61.25))
            Line((16.11667968, -61.25), (19.915434451, -61.25))
            ThreePointArc((19.915434451, -61.25), (22.743861576, -60.078427125), (23.915434451, -57.25))
            Line((23.915434451, -57.25), (23.915434451, -48.25))
            ThreePointArc((23.915434451, -48.25), (22.158075138, -44.007359313), (17.915434451, -42.25))
            Line((17.915434451, -42.25), (10.712592027, -42.25))
            ThreePointArc((10.712592027, -42.25), (7.43598385, -43.955694255), (6.953821544, -47.618080573))
        make_face()
        with BuildLine():
            Line((-3.71555598, -61.25), (3.71555598, -61.25))
            ThreePointArc((3.71555598, -61.25), (6.173012113, -59.970729309), (6.534633842, -57.22393957))
            Line((6.534633842, -57.22393957), (1.563535714, -43.565959713))
            ThreePointArc((1.563535714, -43.565959713), (0.957470976, -42.70771115), (0, -42.275097705))
            ThreePointArc((0, -42.275097705), (-0.957470976, -42.70771115), (-1.563535714, -43.565959713))
            Line((-1.563535714, -43.565959713), (-6.534633842, -57.22393957))
            ThreePointArc((-6.534633842, -57.22393957), (-6.173012113, -59.970729309), (-3.71555598, -61.25))
        make_face()
        with BuildLine():
            Line((-10.712592027, -42.25), (-17.915434451, -42.25))
            ThreePointArc((-17.915434451, -42.25), (-22.158075138, -44.007359313), (-23.915434451, -48.25))
            Line((-23.915434451, -48.25), (-23.915434451, -57.25))
            ThreePointArc((-23.915434451, -57.25), (-22.743861576, -60.078427125), (-19.915434451, -61.25))
            Line((-19.915434451, -61.25), (-16.11667968, -61.25))
            ThreePointArc((-16.11667968, -61.25), (-12.675221062, -60.164912266), (-10.478523956, -57.30212086))
            Line((-10.478523956, -57.30212086), (-6.953821544, -47.618080573))
            ThreePointArc((-6.953821544, -47.618080573), (-7.43598385, -43.955694255), (-10.712592027, -42.25))
        make_face()
    extrude(amount=-CUT_EXTRUDE_13_DEPTH, mode=Mode.SUBTRACT)

    # 草图16 → 凸台-拉伸3 (add)
    with BuildSketch(Plane(origin=(0, 3, 0), x_dir=(1, 0, 0), z_dir=(0, 1, 0))):
        with BuildLine():
            Line((-46.500708687, 60), (-58.500708687, 48))
            Line((-58.500708687, 48), (-58.500708687, 54))
            Line((-58.500708687, 54), (-64.500708687, 54))
            Line((-64.500708687, 54), (-52.500708687, 66))
            ThreePointArc((-52.500708687, 66), (-48.258068, 64.242640687), (-46.500708687, 60))
        make_face()
        with BuildLine():
            ThreePointArc((46.500708687, 60), (48.258068, 64.242640687), (52.500708687, 66))
            Line((52.500708687, 66), (64.500708687, 54))
            Line((64.500708687, 54), (58.500708687, 54))
            Line((58.500708687, 54), (58.500708687, 48))
            Line((58.500708687, 48), (46.500708687, 60))
        make_face()
    extrude(amount=-EXTRUDE_3_DEPTH)


solid = part.part
